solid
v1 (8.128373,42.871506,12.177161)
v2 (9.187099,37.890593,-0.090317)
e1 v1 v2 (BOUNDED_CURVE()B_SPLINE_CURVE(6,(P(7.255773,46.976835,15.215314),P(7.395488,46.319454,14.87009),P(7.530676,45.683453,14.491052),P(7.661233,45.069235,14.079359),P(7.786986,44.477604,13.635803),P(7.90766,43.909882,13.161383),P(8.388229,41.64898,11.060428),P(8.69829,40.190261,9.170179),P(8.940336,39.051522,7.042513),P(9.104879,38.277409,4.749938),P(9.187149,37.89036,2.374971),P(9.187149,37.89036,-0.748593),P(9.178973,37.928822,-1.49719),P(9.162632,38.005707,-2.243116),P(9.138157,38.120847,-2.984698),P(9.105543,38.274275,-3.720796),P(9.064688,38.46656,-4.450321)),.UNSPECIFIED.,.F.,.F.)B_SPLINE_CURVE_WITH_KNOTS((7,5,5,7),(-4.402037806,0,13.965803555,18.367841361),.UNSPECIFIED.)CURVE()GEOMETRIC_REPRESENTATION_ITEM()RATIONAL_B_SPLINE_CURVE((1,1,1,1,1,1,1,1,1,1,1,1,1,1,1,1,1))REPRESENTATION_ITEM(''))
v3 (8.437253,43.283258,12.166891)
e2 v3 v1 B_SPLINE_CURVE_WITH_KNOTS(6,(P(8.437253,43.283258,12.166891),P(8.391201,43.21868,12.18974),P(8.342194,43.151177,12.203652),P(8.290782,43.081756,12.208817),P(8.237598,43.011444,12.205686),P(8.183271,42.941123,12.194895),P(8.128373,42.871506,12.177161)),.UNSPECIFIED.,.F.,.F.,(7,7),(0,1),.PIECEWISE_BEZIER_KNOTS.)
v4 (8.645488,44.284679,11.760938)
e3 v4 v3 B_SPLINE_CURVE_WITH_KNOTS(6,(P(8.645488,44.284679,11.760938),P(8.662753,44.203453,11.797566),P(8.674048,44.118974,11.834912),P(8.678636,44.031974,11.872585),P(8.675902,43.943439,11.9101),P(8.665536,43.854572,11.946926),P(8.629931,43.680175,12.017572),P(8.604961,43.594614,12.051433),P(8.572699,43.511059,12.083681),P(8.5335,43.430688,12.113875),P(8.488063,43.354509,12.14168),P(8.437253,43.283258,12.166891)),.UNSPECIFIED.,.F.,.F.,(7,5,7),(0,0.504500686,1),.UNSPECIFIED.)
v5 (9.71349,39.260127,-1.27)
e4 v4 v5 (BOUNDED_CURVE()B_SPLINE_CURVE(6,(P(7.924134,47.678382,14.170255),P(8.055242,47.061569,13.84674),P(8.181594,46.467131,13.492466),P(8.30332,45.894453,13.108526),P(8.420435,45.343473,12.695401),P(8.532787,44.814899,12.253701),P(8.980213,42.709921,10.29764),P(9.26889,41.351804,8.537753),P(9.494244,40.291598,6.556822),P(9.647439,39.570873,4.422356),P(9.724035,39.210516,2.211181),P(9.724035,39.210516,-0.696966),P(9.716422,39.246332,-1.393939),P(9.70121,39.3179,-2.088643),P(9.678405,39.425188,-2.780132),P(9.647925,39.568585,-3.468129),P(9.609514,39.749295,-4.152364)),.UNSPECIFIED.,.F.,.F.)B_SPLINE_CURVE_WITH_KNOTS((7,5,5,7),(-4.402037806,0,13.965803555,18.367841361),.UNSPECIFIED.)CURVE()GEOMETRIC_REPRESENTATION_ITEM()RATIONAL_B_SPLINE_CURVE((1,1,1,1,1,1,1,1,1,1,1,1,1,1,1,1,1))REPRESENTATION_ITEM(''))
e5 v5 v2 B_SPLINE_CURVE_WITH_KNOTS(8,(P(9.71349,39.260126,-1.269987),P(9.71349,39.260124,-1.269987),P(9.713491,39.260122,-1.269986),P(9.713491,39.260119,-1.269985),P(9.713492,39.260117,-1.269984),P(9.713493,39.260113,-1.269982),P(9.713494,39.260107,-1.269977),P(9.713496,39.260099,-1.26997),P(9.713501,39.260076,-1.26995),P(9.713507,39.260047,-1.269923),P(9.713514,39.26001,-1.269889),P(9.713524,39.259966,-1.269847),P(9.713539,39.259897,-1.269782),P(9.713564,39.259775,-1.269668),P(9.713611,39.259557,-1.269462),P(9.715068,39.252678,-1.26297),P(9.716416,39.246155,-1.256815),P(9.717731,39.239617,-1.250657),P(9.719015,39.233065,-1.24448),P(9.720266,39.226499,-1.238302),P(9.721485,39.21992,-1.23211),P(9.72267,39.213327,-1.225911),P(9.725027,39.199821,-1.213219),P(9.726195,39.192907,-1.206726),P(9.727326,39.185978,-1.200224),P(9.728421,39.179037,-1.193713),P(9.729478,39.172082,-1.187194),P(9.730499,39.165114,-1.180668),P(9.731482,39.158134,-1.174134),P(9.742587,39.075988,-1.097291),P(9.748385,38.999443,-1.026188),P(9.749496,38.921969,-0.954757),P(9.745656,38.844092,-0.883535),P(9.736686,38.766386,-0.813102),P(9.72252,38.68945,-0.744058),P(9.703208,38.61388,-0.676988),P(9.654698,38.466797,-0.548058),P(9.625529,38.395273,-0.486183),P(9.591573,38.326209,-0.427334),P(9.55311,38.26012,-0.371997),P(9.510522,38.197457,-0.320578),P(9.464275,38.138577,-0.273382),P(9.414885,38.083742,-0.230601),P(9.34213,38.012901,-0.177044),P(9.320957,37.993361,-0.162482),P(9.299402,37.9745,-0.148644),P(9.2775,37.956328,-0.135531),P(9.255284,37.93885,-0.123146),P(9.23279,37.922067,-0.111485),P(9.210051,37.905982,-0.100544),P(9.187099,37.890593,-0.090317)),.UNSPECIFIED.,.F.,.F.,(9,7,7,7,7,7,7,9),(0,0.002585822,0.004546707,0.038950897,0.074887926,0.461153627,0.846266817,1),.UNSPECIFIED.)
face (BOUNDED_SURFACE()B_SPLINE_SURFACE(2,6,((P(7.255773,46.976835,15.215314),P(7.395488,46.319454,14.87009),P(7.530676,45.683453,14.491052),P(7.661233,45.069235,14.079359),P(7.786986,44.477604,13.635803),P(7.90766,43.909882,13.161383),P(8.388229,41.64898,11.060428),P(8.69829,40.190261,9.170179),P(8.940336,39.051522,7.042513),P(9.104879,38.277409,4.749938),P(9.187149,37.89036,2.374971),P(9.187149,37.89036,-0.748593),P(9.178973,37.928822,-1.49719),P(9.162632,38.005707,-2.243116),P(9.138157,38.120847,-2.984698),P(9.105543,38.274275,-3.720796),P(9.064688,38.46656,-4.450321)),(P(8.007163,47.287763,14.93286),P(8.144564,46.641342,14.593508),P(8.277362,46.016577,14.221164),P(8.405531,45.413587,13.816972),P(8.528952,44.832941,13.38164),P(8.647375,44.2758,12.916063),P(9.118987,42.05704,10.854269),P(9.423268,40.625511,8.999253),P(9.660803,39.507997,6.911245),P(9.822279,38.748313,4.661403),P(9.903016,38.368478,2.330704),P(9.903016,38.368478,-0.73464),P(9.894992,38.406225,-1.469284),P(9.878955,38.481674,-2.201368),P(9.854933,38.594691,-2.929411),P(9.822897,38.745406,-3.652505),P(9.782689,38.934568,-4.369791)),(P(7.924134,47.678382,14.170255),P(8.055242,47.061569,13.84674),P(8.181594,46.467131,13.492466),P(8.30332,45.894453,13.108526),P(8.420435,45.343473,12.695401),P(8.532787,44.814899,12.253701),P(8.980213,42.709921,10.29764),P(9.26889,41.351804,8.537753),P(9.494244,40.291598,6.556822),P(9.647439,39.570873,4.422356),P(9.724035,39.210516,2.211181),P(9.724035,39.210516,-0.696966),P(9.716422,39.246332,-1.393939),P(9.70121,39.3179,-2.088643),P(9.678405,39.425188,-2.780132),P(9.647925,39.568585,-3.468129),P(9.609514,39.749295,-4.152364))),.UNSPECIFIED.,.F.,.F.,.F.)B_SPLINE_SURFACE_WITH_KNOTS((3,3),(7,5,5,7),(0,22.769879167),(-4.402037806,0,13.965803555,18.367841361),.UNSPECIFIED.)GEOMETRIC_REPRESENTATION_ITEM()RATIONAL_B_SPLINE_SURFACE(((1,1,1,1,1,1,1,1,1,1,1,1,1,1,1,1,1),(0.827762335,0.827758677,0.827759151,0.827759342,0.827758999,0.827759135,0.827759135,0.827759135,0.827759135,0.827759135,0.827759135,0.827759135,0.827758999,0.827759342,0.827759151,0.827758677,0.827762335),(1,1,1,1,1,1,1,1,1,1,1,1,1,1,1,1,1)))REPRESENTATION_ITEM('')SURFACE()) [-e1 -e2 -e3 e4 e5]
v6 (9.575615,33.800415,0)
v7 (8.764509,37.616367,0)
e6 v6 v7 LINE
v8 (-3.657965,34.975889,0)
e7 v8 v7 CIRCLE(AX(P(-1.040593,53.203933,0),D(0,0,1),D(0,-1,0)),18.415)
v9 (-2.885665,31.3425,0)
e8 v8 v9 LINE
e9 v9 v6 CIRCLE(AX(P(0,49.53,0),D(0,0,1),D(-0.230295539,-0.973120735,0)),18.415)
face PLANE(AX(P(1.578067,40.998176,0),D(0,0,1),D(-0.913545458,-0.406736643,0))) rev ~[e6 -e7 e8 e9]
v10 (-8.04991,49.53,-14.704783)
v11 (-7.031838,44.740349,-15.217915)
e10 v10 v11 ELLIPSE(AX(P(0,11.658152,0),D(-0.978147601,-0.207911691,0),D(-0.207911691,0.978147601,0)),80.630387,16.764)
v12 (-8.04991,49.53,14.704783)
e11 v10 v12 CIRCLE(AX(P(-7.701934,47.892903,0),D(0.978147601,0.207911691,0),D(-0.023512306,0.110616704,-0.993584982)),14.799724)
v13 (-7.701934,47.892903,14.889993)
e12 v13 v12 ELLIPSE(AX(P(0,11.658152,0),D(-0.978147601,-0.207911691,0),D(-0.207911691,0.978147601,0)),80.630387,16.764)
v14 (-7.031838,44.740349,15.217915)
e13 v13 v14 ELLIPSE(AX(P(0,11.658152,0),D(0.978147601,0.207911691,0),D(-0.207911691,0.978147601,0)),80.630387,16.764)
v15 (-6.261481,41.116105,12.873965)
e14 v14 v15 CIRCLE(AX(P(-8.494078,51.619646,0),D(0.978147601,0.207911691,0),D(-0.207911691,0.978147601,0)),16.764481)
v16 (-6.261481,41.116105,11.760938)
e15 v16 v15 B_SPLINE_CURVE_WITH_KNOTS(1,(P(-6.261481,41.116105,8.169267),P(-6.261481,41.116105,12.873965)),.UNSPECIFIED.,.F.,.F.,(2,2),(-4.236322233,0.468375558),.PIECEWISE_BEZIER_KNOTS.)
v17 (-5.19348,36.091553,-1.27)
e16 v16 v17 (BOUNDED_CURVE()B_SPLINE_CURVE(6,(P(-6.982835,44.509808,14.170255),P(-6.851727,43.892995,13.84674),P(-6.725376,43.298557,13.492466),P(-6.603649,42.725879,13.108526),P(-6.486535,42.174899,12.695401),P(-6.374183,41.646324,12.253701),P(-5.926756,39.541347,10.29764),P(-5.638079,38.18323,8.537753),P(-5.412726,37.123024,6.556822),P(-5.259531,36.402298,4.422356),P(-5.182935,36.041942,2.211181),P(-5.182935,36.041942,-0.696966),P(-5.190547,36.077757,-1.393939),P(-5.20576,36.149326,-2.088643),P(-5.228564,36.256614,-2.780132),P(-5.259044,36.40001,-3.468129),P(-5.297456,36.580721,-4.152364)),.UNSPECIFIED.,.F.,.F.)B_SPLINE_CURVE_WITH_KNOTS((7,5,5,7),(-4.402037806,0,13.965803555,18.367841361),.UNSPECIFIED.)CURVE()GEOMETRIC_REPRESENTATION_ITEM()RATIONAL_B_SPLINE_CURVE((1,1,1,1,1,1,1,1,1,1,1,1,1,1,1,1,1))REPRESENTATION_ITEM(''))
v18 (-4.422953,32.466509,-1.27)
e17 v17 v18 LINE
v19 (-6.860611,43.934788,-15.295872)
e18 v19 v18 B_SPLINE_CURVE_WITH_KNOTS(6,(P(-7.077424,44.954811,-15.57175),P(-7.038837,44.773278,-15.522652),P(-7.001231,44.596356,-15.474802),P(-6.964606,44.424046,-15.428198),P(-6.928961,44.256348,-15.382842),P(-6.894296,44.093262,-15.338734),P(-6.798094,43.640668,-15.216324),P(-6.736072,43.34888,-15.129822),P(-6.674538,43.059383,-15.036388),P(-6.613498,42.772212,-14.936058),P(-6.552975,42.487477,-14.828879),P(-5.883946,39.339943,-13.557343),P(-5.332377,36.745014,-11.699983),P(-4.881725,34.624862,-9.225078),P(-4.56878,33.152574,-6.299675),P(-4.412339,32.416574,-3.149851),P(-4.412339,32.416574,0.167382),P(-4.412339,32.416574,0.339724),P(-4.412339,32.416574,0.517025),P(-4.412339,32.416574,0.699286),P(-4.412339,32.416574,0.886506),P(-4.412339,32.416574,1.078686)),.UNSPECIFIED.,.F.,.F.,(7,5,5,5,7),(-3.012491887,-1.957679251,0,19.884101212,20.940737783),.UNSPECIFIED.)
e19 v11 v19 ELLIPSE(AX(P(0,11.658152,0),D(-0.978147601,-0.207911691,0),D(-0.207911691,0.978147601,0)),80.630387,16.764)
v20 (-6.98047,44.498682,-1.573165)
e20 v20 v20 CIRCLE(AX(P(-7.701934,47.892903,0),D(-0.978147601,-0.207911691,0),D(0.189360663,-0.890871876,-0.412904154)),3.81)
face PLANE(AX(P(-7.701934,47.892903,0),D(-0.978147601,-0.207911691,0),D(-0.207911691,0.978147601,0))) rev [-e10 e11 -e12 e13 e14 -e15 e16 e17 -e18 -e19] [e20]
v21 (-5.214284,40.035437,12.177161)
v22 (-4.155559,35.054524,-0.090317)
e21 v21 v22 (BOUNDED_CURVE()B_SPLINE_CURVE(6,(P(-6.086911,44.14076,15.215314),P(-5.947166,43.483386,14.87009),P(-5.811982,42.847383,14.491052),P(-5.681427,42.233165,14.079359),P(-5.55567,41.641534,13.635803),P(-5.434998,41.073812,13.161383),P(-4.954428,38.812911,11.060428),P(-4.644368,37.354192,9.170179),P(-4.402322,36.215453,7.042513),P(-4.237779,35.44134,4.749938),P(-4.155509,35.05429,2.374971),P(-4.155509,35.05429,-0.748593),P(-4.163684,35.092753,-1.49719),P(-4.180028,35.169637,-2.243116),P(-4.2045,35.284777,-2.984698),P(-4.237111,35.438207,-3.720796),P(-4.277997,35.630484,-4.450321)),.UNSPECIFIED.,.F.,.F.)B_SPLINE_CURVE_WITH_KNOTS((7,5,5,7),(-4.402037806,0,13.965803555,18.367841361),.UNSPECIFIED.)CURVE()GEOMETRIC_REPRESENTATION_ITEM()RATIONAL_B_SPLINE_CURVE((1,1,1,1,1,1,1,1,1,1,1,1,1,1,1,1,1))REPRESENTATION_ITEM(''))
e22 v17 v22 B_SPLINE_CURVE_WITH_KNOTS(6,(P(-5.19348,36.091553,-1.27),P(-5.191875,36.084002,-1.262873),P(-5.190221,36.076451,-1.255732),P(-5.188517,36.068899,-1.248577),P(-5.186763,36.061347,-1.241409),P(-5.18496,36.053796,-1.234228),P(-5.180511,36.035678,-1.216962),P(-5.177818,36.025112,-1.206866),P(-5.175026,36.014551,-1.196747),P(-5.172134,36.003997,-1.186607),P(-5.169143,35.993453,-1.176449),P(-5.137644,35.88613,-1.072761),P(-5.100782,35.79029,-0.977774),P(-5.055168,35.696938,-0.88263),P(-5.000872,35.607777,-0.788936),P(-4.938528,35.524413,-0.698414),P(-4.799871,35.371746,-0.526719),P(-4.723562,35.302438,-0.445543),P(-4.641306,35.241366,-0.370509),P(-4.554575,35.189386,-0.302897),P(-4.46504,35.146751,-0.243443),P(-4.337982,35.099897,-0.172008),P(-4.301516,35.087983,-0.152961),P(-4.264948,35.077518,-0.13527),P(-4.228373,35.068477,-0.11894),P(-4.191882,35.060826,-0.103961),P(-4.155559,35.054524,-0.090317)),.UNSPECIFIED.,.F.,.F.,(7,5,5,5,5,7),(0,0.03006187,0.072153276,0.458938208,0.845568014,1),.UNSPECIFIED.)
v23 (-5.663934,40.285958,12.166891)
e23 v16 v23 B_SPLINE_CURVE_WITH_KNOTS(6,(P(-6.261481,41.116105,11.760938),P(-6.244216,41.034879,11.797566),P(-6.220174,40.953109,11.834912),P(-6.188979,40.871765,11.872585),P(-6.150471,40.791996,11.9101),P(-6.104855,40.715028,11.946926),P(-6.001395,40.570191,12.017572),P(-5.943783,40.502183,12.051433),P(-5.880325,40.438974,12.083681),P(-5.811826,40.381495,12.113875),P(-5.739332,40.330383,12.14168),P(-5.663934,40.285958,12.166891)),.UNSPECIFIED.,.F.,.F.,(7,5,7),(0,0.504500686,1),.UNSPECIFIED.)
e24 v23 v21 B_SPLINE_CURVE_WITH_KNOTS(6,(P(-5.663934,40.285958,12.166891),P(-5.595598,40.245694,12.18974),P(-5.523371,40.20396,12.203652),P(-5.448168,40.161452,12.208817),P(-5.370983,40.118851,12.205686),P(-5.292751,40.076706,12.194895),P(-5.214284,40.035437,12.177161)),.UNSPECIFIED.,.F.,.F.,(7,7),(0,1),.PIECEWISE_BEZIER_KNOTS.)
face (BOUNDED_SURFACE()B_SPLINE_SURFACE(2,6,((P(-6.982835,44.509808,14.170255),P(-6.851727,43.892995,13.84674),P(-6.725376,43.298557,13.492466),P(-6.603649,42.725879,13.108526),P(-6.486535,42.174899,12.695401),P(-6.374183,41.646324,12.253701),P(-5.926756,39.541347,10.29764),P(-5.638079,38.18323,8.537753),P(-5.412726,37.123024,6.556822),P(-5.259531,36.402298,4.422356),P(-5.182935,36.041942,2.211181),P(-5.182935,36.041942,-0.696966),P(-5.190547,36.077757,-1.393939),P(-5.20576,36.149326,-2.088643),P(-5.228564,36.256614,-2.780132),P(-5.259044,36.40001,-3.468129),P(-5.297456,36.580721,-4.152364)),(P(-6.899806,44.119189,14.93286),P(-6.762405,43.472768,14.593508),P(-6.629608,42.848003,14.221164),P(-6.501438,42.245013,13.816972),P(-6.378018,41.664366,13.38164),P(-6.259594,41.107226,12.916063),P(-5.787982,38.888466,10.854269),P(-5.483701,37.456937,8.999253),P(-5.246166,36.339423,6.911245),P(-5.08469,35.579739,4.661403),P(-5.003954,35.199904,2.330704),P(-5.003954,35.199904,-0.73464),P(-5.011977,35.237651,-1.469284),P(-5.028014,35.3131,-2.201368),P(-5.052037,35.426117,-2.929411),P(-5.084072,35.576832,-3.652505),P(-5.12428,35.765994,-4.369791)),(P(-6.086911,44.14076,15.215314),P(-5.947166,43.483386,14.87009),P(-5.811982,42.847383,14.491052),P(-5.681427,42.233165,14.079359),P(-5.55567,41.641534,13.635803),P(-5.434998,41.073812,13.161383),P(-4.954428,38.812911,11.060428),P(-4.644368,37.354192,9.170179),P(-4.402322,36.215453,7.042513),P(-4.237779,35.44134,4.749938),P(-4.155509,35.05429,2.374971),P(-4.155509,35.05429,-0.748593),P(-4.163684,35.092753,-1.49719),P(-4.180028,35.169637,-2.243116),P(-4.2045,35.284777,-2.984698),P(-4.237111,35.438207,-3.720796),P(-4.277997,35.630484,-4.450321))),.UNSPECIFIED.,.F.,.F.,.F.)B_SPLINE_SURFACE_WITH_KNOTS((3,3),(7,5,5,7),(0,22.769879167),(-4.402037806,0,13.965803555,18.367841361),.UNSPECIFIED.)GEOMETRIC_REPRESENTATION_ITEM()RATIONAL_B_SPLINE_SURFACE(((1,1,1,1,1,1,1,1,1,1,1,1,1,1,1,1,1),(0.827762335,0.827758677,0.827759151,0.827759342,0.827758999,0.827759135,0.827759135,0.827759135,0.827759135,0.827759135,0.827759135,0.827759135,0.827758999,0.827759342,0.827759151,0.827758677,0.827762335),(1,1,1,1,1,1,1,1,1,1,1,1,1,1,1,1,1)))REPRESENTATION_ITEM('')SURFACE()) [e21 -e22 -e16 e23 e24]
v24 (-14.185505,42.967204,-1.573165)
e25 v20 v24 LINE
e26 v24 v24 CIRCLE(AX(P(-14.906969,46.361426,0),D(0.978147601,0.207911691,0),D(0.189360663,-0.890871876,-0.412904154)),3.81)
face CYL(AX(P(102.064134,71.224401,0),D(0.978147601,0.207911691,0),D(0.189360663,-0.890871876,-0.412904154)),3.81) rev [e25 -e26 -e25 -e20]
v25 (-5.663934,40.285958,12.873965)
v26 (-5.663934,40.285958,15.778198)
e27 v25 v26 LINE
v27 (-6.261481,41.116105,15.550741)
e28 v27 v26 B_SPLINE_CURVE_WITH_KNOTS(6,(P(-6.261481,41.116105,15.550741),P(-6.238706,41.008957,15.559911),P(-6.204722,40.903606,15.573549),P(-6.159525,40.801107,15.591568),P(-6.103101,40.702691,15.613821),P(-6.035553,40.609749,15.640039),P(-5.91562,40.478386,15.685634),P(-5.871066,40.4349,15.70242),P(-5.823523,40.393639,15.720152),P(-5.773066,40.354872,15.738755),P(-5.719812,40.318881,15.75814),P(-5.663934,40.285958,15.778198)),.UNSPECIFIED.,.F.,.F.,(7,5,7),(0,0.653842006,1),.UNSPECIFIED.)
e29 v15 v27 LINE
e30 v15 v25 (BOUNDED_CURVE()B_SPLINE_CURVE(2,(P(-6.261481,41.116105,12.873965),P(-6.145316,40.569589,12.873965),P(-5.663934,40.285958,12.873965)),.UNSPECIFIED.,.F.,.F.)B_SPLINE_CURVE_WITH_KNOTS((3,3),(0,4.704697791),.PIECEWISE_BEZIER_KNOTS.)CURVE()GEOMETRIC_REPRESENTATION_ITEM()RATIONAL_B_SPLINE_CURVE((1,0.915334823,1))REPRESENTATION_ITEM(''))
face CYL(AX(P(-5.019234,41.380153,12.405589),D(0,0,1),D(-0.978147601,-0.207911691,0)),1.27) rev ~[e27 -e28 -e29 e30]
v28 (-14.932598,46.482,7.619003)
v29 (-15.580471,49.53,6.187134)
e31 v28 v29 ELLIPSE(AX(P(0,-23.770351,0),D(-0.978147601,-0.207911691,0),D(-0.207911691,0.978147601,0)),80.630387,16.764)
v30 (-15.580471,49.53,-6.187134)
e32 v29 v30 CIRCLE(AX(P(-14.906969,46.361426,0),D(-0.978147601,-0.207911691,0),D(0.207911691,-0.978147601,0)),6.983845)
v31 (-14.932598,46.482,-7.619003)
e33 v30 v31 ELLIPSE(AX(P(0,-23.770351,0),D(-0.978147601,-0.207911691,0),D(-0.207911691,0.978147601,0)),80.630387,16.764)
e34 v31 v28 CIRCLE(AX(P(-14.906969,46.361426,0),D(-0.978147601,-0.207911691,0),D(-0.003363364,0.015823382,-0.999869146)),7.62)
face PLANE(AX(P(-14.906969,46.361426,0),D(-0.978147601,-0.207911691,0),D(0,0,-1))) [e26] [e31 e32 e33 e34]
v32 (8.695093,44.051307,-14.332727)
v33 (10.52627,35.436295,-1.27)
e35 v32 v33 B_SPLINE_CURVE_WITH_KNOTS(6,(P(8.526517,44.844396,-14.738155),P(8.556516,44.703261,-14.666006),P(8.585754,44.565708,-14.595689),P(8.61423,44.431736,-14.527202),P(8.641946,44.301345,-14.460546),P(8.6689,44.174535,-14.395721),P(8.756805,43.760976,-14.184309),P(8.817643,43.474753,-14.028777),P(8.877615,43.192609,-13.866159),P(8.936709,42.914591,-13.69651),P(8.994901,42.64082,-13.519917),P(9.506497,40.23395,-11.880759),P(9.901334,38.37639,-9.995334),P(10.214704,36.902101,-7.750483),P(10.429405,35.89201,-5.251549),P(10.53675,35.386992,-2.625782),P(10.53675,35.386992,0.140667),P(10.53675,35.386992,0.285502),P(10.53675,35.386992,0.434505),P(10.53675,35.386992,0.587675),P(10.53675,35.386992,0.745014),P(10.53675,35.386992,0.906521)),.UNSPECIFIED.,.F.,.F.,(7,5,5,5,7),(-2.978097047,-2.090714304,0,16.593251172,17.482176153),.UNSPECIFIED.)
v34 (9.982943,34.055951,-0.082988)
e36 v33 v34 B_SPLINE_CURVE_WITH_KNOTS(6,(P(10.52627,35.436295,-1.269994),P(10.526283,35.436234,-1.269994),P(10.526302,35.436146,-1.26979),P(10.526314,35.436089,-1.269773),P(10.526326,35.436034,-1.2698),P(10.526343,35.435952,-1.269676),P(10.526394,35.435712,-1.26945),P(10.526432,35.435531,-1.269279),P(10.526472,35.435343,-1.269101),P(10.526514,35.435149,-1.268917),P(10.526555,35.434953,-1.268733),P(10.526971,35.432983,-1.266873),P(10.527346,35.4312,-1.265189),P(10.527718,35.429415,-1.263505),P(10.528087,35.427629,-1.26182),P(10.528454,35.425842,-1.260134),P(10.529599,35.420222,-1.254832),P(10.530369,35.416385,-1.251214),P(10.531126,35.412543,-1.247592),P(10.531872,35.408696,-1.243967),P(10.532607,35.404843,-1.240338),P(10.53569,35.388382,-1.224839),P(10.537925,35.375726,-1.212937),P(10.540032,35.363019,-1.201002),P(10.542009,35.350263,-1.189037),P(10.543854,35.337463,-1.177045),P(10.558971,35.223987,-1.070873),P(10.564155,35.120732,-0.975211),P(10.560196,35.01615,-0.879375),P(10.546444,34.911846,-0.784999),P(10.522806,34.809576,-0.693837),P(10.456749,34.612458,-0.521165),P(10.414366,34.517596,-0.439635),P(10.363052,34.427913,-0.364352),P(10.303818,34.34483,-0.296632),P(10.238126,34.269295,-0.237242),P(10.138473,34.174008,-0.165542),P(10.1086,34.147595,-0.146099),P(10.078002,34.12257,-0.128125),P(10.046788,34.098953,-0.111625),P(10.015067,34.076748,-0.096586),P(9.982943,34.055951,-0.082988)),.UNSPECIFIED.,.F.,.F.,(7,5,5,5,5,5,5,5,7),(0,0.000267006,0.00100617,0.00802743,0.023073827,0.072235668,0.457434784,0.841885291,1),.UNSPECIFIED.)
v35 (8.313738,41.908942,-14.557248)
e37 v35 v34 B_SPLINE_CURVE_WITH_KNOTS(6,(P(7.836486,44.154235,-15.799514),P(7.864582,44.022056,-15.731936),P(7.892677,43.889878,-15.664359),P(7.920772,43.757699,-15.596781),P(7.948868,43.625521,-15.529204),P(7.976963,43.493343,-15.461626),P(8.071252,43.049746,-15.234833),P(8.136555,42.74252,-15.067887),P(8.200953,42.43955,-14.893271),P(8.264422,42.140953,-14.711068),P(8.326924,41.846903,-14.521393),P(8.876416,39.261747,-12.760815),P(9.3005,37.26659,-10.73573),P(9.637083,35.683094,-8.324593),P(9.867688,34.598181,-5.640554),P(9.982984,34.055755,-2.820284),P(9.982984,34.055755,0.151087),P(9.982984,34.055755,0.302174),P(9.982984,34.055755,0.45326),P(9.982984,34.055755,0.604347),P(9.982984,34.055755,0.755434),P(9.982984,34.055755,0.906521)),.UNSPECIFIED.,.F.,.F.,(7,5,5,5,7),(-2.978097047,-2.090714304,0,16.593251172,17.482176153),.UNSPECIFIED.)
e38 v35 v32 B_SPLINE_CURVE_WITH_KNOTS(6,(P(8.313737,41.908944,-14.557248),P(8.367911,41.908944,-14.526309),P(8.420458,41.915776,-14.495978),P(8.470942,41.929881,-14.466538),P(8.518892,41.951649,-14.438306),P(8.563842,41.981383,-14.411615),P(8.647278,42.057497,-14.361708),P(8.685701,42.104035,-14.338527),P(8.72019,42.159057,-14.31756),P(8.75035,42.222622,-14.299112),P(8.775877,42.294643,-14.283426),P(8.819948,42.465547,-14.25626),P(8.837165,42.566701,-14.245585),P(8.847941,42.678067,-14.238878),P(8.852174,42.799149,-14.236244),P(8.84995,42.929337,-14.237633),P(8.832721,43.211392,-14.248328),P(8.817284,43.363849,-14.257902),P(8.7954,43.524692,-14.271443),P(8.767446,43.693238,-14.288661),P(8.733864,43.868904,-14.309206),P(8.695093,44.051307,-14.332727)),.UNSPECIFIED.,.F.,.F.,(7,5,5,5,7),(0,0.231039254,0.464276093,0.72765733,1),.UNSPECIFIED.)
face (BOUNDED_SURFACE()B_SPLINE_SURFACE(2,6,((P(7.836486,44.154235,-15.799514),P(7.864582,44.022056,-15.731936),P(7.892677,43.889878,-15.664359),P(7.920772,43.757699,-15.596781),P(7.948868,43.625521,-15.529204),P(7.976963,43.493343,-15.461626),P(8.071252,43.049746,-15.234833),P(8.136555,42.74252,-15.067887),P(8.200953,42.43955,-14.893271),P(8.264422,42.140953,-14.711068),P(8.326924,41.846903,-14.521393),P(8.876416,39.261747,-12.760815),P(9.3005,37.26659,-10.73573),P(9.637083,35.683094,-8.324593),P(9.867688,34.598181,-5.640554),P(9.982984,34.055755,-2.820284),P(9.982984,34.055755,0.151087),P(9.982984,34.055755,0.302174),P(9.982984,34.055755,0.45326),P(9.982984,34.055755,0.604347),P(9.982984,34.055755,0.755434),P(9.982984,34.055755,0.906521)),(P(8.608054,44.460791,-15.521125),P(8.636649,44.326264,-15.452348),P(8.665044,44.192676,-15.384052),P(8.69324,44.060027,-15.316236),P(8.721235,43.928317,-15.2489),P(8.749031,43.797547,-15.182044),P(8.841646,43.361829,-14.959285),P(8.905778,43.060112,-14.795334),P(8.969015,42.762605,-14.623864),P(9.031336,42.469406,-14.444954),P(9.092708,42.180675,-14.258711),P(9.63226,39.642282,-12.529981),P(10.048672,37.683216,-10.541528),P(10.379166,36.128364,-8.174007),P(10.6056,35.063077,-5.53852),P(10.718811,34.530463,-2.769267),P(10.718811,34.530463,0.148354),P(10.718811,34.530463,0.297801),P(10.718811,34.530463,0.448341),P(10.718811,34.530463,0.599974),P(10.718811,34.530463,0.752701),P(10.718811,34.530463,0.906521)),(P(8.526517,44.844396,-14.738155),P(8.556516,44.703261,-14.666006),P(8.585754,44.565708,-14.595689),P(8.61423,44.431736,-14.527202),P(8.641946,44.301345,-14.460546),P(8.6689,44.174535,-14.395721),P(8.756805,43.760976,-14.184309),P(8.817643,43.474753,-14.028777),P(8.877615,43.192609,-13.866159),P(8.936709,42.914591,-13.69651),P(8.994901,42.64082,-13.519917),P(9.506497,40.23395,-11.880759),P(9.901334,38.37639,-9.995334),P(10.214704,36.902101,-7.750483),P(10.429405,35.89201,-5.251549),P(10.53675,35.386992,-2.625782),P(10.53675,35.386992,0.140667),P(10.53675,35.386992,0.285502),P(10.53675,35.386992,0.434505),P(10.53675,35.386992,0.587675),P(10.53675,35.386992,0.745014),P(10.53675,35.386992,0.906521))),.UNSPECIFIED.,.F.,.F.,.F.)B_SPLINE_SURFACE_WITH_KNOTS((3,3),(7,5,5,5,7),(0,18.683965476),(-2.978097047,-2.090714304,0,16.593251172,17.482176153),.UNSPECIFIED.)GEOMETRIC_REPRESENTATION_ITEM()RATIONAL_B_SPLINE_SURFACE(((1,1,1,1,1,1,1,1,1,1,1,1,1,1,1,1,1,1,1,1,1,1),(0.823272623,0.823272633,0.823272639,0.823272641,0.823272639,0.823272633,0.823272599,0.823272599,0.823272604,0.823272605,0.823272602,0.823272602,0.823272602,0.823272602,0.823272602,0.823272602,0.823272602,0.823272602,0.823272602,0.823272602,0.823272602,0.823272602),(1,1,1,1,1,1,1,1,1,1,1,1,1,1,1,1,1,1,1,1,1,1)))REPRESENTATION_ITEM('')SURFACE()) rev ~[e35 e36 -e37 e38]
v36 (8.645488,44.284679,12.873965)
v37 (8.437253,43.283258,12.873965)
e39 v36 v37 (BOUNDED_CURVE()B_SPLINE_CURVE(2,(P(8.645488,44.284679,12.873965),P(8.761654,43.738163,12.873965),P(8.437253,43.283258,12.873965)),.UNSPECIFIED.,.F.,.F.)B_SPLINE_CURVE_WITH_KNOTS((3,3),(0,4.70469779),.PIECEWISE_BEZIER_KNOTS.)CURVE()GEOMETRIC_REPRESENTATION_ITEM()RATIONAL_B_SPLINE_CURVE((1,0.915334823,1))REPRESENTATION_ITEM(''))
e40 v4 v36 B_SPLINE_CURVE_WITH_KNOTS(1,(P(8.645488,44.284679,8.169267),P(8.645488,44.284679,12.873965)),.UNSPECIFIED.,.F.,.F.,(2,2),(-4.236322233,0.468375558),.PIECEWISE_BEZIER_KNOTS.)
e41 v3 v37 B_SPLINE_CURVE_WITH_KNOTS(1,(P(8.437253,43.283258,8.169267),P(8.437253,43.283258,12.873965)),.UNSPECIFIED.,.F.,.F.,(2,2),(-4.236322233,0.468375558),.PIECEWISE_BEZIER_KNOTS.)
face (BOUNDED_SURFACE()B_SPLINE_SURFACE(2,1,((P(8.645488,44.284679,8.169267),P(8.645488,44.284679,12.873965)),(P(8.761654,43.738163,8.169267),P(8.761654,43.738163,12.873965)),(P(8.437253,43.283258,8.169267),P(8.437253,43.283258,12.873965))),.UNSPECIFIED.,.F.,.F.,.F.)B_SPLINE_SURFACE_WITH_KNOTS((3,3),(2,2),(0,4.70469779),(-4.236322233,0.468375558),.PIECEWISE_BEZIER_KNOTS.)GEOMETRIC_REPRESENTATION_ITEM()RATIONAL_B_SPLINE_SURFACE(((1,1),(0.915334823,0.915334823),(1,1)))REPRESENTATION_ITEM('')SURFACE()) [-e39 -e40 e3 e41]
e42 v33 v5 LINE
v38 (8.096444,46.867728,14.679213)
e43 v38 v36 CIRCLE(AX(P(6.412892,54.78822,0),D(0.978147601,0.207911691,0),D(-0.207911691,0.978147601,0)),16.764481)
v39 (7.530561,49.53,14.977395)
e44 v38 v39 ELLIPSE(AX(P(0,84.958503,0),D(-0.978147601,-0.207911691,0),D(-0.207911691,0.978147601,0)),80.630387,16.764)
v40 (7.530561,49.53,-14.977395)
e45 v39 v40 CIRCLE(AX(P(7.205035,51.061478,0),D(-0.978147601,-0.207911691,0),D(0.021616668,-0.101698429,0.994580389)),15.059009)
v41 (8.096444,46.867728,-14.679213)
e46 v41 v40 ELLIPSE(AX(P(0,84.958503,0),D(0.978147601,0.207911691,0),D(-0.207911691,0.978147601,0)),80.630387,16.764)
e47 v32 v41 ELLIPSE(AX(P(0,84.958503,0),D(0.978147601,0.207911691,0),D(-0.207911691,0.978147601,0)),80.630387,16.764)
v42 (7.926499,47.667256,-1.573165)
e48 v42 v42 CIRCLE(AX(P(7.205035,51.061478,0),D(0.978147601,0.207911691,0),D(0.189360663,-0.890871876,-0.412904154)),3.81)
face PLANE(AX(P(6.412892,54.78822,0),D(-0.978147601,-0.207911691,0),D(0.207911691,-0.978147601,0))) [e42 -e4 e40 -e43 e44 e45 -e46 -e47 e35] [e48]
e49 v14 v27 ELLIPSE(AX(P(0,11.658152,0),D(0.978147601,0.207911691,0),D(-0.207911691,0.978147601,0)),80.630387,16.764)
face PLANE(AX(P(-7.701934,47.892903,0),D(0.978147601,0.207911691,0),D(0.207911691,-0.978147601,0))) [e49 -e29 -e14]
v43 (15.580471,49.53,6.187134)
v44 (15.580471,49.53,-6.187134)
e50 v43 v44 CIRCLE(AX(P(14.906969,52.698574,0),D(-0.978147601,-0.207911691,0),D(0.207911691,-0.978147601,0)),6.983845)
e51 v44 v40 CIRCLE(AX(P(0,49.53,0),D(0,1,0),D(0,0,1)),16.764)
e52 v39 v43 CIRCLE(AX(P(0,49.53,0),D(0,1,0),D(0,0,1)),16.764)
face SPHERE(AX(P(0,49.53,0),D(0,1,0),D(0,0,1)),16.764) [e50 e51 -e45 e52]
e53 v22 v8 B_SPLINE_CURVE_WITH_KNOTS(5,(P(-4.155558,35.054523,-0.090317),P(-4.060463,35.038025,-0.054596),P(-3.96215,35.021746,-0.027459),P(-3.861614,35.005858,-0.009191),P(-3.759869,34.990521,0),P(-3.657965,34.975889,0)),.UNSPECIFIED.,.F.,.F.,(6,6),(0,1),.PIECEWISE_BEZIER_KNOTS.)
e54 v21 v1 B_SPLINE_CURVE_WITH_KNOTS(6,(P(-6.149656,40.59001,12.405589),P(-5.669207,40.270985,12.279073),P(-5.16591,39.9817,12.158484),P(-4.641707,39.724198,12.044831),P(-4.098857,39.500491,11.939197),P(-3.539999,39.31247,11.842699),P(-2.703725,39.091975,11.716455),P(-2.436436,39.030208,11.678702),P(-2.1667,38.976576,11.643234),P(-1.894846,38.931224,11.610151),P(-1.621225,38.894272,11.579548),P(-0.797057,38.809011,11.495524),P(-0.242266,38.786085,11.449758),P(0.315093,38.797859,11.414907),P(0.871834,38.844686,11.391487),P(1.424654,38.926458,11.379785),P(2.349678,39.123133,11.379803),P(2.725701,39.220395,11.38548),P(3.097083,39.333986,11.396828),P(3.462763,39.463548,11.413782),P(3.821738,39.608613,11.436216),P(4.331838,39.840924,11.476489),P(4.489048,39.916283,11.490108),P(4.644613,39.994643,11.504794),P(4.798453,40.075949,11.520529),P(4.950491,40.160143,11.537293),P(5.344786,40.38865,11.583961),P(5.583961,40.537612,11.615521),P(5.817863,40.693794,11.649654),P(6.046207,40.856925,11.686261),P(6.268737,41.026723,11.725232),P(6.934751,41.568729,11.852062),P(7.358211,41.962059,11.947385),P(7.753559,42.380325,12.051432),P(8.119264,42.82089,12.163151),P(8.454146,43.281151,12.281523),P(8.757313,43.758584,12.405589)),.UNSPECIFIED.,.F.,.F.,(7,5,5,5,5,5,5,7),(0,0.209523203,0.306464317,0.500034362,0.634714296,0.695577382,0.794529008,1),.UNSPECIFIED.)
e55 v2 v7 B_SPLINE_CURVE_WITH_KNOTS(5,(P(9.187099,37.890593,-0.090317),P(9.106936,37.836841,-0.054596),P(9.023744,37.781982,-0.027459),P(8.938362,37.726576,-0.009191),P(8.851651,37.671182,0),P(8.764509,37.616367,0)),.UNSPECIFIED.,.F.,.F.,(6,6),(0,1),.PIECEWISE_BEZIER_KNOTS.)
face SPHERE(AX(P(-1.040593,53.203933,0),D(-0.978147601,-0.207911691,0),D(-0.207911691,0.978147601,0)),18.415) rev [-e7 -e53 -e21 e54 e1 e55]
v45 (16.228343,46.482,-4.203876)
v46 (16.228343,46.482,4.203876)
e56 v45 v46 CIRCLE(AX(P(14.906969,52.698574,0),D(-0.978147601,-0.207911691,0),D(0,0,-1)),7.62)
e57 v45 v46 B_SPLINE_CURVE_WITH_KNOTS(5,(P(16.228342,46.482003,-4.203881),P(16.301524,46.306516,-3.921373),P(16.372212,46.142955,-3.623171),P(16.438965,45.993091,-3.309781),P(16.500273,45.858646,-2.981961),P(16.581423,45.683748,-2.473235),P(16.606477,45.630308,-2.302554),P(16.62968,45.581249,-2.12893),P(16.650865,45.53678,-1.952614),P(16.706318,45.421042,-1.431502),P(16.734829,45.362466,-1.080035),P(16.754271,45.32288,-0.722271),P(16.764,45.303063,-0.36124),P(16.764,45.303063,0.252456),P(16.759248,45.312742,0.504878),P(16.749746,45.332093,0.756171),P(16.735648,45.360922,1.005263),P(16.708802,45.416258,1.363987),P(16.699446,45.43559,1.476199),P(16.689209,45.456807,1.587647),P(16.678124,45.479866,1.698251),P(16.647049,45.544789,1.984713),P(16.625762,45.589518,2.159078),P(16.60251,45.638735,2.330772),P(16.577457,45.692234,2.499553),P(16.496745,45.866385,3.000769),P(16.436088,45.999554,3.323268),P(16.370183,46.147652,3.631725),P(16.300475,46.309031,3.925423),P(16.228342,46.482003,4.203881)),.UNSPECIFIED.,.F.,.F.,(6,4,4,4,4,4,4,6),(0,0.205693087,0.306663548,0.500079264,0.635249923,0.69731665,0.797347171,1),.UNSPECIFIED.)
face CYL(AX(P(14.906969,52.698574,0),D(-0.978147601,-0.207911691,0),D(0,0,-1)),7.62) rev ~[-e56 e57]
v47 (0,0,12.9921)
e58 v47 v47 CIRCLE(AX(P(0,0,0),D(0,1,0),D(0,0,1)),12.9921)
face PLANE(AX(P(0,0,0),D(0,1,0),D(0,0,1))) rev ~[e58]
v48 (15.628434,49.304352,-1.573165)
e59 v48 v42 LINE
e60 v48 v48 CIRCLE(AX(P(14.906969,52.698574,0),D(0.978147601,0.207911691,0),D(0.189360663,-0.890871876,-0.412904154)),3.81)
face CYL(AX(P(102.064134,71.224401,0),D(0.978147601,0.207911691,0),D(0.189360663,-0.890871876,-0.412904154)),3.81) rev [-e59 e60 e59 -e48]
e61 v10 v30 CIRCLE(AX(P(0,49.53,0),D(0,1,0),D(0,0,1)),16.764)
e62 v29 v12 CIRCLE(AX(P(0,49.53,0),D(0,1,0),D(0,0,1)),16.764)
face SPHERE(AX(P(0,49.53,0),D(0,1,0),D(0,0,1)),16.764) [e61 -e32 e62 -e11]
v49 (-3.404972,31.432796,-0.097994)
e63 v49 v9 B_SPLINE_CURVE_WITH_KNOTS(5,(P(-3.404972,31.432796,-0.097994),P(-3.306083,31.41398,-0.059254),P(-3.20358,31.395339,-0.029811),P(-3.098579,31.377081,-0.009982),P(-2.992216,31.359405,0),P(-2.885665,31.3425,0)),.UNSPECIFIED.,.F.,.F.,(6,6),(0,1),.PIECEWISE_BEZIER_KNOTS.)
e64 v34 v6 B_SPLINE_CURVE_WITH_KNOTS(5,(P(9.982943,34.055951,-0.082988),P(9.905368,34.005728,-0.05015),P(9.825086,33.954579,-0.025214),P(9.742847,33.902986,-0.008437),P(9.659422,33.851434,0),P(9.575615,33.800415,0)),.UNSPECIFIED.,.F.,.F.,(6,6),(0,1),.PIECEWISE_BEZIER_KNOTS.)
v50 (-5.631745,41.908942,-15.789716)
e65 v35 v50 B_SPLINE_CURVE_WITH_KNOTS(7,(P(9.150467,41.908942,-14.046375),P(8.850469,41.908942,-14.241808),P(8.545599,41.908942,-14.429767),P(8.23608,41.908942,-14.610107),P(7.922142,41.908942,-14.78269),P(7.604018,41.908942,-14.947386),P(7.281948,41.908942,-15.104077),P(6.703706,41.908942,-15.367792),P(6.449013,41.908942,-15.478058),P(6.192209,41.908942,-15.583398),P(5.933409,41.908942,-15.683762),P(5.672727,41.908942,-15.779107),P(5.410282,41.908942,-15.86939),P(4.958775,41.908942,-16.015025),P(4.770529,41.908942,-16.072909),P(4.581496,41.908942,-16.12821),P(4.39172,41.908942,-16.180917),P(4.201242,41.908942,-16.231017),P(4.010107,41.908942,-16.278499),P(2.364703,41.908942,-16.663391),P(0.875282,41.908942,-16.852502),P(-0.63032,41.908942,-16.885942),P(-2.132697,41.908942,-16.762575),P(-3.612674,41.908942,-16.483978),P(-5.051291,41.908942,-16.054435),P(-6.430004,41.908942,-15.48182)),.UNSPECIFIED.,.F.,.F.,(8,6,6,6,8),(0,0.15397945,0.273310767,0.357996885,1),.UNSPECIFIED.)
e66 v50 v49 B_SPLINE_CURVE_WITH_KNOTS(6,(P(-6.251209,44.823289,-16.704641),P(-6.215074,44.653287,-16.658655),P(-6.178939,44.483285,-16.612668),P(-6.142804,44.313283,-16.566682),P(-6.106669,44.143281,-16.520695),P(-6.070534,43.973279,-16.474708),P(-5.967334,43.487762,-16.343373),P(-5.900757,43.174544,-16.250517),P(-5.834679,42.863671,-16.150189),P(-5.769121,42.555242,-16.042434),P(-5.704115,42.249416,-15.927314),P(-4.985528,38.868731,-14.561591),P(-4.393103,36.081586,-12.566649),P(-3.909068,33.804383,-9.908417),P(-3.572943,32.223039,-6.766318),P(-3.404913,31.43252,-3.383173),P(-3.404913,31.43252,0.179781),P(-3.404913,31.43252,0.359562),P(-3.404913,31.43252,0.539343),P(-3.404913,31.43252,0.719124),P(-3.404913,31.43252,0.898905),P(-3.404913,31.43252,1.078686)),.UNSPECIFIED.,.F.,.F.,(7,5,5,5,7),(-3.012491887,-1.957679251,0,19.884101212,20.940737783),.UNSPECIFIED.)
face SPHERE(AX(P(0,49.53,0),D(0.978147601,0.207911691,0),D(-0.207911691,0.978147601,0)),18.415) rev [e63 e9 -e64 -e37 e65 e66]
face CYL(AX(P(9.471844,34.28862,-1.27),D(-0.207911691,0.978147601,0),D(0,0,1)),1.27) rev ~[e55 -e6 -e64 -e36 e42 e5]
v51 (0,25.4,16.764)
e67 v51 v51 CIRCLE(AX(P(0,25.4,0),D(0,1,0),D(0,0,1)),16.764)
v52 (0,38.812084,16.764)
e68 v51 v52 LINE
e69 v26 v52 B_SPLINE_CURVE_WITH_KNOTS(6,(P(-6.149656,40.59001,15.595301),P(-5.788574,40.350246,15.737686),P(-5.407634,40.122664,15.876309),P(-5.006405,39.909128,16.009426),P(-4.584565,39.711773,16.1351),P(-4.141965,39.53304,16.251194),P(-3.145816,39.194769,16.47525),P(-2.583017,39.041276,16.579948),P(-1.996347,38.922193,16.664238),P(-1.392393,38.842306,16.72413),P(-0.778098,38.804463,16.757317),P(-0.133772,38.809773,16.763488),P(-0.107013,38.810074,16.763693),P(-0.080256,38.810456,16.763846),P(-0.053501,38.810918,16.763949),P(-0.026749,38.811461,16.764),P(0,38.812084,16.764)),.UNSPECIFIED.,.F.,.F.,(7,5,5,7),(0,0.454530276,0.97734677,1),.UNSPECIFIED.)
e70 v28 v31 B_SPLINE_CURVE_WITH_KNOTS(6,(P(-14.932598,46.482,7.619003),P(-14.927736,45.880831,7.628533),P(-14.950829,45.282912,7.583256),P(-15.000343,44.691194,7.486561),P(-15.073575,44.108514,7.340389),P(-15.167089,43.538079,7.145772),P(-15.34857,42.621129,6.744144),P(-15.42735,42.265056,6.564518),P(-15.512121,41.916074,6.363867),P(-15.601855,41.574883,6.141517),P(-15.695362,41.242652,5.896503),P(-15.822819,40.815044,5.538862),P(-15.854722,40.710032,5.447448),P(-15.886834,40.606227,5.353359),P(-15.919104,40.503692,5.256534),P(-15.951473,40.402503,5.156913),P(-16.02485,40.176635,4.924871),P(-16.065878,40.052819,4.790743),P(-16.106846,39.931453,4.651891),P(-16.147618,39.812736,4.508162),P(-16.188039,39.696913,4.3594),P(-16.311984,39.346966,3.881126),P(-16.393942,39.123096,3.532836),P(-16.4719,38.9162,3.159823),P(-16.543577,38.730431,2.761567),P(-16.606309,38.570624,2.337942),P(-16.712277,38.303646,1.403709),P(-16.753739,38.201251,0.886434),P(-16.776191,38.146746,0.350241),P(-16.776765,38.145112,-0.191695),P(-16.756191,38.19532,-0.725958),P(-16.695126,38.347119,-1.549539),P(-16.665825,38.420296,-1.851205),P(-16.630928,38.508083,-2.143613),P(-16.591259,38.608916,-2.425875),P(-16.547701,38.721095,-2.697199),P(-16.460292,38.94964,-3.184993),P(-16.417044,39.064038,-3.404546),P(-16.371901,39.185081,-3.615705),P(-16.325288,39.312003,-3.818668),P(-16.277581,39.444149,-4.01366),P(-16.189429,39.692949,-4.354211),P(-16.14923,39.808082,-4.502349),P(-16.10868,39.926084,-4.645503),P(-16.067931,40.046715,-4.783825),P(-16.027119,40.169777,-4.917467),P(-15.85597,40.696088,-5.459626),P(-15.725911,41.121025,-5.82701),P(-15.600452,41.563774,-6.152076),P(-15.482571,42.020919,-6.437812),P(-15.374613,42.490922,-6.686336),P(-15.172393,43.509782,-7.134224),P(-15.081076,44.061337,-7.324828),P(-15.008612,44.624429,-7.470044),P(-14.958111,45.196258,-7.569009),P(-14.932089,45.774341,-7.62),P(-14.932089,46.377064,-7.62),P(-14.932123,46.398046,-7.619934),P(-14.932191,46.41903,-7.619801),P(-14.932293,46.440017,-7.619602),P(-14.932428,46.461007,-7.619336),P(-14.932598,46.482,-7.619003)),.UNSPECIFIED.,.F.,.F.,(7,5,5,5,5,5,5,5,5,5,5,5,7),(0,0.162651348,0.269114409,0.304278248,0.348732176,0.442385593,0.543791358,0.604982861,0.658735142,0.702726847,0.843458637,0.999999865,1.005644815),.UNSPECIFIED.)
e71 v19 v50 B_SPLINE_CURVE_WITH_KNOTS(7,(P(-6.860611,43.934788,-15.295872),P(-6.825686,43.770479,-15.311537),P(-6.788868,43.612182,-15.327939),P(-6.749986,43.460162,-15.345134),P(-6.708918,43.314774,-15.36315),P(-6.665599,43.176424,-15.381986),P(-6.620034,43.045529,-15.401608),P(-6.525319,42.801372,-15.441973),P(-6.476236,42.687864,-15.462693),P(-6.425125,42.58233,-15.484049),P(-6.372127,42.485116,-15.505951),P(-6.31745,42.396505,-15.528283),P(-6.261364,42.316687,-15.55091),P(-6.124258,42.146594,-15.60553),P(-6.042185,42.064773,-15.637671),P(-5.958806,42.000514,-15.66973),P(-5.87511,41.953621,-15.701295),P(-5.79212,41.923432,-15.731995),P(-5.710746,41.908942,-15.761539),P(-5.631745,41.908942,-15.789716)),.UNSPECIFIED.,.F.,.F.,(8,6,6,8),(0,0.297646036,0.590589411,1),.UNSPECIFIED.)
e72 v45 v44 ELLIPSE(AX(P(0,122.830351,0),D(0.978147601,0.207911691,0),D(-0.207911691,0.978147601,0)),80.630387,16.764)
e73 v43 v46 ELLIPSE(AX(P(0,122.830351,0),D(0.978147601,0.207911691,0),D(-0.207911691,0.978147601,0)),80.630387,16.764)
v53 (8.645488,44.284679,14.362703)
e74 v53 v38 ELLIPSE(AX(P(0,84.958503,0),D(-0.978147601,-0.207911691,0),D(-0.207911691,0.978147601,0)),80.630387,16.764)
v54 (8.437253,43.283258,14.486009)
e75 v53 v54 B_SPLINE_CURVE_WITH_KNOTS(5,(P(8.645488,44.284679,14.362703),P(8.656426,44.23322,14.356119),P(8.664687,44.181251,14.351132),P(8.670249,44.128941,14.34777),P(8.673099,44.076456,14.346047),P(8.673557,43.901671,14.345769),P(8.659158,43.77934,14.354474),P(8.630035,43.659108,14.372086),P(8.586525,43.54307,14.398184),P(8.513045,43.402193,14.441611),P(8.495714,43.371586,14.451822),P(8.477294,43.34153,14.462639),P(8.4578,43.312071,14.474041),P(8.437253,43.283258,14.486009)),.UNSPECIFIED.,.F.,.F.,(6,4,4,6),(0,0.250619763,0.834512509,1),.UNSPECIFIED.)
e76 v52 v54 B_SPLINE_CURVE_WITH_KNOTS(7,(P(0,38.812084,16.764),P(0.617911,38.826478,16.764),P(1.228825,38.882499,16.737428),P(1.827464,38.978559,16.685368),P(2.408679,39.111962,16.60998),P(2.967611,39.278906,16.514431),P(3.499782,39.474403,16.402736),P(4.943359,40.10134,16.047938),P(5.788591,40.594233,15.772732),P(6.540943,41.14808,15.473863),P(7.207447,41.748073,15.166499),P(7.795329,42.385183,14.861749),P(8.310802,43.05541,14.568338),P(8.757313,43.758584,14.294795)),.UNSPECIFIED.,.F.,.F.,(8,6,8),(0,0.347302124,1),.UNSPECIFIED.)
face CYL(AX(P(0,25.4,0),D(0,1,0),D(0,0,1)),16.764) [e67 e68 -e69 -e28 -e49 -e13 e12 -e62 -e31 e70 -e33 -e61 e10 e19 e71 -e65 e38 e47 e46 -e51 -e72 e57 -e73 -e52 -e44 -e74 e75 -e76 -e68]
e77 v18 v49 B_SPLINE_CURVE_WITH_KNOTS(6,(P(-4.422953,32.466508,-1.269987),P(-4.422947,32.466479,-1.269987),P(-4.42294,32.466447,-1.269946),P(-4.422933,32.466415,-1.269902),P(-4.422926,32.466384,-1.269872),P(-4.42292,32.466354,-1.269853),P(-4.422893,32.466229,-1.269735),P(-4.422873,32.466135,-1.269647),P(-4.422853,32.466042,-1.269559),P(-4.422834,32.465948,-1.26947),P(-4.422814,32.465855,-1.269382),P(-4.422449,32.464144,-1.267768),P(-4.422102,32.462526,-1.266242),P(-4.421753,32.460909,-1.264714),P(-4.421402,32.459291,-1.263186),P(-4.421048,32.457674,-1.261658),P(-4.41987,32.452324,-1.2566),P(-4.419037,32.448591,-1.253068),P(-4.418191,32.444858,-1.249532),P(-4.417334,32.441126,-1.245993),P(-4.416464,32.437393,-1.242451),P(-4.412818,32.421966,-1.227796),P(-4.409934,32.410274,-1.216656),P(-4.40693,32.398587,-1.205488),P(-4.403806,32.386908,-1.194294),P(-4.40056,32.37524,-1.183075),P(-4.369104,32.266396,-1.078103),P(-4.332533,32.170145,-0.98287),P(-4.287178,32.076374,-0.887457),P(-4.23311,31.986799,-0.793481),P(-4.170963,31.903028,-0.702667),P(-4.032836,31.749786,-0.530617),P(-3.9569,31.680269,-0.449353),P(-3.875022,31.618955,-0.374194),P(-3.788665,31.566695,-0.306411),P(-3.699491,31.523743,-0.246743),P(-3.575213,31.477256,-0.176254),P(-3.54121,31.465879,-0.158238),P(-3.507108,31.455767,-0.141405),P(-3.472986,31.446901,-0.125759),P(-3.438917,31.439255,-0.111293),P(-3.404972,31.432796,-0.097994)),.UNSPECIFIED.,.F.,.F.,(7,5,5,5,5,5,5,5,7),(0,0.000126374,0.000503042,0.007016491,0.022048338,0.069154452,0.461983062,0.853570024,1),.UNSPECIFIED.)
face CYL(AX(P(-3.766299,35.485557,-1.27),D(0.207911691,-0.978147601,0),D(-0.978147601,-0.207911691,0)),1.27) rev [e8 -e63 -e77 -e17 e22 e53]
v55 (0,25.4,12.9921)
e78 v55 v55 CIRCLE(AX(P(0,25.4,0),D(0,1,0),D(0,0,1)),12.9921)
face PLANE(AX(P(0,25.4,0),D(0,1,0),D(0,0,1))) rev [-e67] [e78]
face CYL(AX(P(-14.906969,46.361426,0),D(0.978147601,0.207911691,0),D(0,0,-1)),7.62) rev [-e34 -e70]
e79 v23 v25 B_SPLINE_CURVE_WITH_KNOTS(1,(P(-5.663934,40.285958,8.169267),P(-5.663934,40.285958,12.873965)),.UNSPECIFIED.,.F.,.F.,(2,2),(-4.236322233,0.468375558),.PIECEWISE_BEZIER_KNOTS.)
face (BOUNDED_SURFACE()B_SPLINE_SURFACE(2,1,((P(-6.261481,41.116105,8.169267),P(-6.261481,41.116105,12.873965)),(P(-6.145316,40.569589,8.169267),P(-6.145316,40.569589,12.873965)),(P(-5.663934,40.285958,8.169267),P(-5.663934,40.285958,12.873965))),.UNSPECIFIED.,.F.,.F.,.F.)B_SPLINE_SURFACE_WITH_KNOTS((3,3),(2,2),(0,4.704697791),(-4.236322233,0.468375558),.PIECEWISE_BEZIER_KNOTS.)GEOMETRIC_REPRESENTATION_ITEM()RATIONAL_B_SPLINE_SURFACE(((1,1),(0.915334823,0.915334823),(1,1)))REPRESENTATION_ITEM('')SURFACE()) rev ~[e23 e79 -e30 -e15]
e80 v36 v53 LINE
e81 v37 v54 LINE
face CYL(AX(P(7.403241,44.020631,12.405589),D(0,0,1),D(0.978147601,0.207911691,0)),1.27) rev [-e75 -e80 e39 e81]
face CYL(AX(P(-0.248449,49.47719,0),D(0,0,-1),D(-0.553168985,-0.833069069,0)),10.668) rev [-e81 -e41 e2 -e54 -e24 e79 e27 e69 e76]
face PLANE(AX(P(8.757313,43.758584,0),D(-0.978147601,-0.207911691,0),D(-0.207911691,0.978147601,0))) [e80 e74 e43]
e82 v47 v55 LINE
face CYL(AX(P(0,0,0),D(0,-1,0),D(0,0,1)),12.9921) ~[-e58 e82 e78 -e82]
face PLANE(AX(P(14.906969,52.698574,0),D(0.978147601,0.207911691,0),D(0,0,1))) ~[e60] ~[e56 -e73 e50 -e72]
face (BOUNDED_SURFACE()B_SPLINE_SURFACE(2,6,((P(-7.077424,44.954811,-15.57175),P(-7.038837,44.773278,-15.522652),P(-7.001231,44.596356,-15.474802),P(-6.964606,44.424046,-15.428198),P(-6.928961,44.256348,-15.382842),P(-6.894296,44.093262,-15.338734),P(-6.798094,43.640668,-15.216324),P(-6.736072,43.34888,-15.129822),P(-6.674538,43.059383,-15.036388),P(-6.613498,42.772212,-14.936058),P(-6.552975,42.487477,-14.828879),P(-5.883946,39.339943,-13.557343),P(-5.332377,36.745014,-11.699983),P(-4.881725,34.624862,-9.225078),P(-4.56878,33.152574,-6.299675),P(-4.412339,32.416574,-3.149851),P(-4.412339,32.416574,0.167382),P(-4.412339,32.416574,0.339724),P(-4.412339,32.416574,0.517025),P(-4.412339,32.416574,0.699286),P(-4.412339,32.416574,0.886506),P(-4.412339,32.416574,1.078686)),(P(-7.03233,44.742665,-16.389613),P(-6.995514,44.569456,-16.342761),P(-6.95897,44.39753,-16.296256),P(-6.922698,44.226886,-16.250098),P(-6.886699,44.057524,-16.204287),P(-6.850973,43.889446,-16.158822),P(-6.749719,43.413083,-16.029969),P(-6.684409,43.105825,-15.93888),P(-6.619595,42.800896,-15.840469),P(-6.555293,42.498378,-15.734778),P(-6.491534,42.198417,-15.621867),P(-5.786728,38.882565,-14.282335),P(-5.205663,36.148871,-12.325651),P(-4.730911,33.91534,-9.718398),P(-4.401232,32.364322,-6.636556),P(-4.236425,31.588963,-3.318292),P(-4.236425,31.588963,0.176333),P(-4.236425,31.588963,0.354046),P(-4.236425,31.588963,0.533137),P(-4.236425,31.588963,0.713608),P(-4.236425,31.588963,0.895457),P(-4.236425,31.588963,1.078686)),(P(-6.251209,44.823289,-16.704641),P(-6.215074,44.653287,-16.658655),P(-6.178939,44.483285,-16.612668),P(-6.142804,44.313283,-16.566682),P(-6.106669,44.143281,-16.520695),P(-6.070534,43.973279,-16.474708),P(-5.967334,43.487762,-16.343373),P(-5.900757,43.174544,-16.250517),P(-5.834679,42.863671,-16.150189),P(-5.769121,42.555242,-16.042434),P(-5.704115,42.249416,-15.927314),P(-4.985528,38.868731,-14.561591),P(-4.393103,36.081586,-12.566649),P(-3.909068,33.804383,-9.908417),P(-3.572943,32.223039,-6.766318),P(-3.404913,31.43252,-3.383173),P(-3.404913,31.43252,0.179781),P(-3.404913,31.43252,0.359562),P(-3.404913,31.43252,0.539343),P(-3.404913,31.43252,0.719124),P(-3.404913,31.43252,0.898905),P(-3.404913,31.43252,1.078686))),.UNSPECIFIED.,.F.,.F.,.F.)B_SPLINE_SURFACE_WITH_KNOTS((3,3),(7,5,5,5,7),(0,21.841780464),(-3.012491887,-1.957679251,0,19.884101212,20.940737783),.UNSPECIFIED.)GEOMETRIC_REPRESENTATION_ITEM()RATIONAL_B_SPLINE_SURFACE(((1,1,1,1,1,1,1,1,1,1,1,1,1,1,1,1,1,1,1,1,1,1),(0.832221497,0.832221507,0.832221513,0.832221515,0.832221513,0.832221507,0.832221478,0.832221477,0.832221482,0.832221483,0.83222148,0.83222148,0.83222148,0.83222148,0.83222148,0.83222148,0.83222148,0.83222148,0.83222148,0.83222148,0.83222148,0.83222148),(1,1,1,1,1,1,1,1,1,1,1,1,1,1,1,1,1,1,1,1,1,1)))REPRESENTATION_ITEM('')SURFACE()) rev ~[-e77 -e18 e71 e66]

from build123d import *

# Parameters (mm, degrees)
SKETCH1_R                     = 12.9921
BOSS_EXTRUDE1_DEPTH           = 25.4
CUT_EXTRUDE1_DEPTH            = 104.344307451
CUT_EXTRUDE1_DEPTH_BACK       = 104.344307451
SKETCH3_R                     = 3.81
CUT_REVOLVE10_ANGLE           = 180
CUT_REVOLVE10_OTHER_WAY_ANGLE = 90
CUT_EXTRUDE4_DEPTH            = 32.004
FILLET1_R                     = 1.27
SKETCH15_R                    = 7.62
CUT_EXTRUDE5_DEPTH            = 10.16


with BuildPart() as part:
    # Sketch1 → Boss-Extrude1 (new body)
    with BuildSketch(Plane(origin=(0, 0, 0), x_dir=(1, 0, 0), z_dir=(0, 1, 0))):
        Circle(SKETCH1_R)
    extrude(amount=BOSS_EXTRUDE1_DEPTH)

    # Sketch2 → Revolve1 (revolve)
    with BuildSketch(Plane(origin=(0, 0, 0), x_dir=(0, 0, -1), z_dir=(1, 0, 0))):
        with BuildLine():
            Line((-16.764, 25.4), (-16.764, 49.53))
            ThreePointArc((-16.764, 49.53), (-11.85393808, 61.38393808), (0, 66.294))
            Line((0, 66.294), (0, 25.4))
            Line((0, 25.4), (-16.764, 25.4))
        make_face()
    revolve(axis=Axis((0, 25.4, 0), (0, 1, 0)))

    # Sketch3 → Cut-Extrude1 (cut, two sides: drawn at the far end of the back side and taken through both)
    with BuildSketch(Plane(origin=(-10.366451402, 98.300319395, 0), x_dir=(0, 0, -1), z_dir=(-0.9781476007338062, -0.20791169081775643, 0)).offset(-CUT_EXTRUDE1_DEPTH_BACK)):
        with Locations((0, 49.859877342)):
            Circle(SKETCH3_R)
    extrude(amount=CUT_EXTRUDE1_DEPTH + CUT_EXTRUDE1_DEPTH_BACK, mode=Mode.SUBTRACT)

    # Sketch11 → Cut-Revolve10 (revolve, cut)
    with BuildSketch(Plane.XY):
        with BuildLine():
            Line((-7.701934208, 47.892903347), (-11.162976054, 64.175825024))
            ThreePointArc((-11.162976054, 64.175825024), (-4.101170935, 67.482510185), (3.695979409, 67.570287171))
            Line((3.695979409, 67.570287171), (7.205035227, 51.061477515))
            Line((7.205035227, 51.061477515), (-7.701934208, 47.892903347))
        make_face()
    revolve(axis=Axis((17.487516564, 53.247086393, 0), (-0.9781476007338064, -0.2079116908177564, 0)), revolution_arc=CUT_REVOLVE10_ANGLE, mode=Mode.SUBTRACT)

    # Sketch11 → Cut-Revolve10 other way (revolve, cut)
    with BuildSketch(Plane.XY):
        with BuildLine():
            Line((-7.701934208, 47.892903347), (-11.162976054, 64.175825024))
            ThreePointArc((-11.162976054, 64.175825024), (-4.101170935, 67.482510185), (3.695979409, 67.570287171))
            Line((3.695979409, 67.570287171), (7.205035227, 51.061477515))
            Line((7.205035227, 51.061477515), (-7.701934208, 47.892903347))
        make_face()
    revolve(axis=Axis((17.487516564, 53.247086393, 0), (0.9781476007338064, 0.2079116908177564, 0)), revolution_arc=CUT_REVOLVE10_OTHER_WAY_ANGLE, mode=Mode.SUBTRACT)

    # Sketch13 → Cut-Revolve11 (revolve, cut)
    with BuildSketch(Plane.XY):
        with BuildLine():
            Line((-8.49407775, 51.619645705), (6.412891685, 54.788219873))
            Line((6.412891685, 54.788219873), (2.927360083, 71.186356794))
            ThreePointArc((2.927360083, 71.186356794), (-4.869286819, 71.216520857), (-11.979609352, 68.017782626))
            Line((-11.979609352, 68.017782626), (-8.49407775, 51.619645705))
        make_face()
    revolve(axis=Axis((-8.49407775, 51.619645705, 0), (0.9781476007338064, 0.20791169081775632, 0)), mode=Mode.SUBTRACT)

    # Sketch14 → Cut-Extrude4 (cut)
    with BuildSketch(Plane.XY):
        with BuildLine():
            Line((-7.701934208, 47.892903347), (-6.149656223, 40.590009601))
            ThreePointArc((-6.149656223, 40.590009601), (1.969552427, 39.042311826), (8.757313212, 43.758583769))
            Line((8.757313212, 43.758583769), (7.205035227, 51.061477515))
            Line((7.205035227, 51.061477515), (-7.701934208, 47.892903347))
        make_face()
    extrude(amount=CUT_EXTRUDE4_DEPTH, mode=Mode.SUBTRACT)

    # Fillet1
    fillet1_edges = [part.edges().sort_by_distance(p)[0] for p in [
        (-4.840027967, 34.428693074, -9.361457334),
        (-4.624719256, 33.415745227, 0),
        (-5.306564153, 36.623573262, 6.782727573),
        (-6.149656223, 40.590009601, 14.000445211),
        (8.757313212, 43.758583769, 13.350191985),
        (9.600405282, 39.79214743, 6.782727573),
        (10.306257166, 36.471375406, 0),
        (10.298585015, 36.507470038, -7.966497668),
    ]]
    fillet(fillet1_edges, radius=FILLET1_R)

    # Sketch15 → Cut-Extrude5 (cut)
    with BuildSketch(Plane(origin=(-4.834136469, -1.027527427, 0), x_dir=(0, 0, -1), z_dir=(-0.9781476007338062, -0.20791169081775643, 0))):
        with Locations((0, -48.447650664)):
            Circle(SKETCH15_R)
    cut_extrude5 = extrude(amount=CUT_EXTRUDE5_DEPTH, mode=Mode.SUBTRACT)

    # Mirror1: Cut-Extrude5 across plane
    add(cut_extrude5.mirror(Plane(origin=(10.072832966, 2.141046741, 0), x_dir=(0, 0, 1), z_dir=(-0.9781476007338062, -0.20791169081775643, 0))), mode=Mode.SUBTRACT)


solid = part.part
